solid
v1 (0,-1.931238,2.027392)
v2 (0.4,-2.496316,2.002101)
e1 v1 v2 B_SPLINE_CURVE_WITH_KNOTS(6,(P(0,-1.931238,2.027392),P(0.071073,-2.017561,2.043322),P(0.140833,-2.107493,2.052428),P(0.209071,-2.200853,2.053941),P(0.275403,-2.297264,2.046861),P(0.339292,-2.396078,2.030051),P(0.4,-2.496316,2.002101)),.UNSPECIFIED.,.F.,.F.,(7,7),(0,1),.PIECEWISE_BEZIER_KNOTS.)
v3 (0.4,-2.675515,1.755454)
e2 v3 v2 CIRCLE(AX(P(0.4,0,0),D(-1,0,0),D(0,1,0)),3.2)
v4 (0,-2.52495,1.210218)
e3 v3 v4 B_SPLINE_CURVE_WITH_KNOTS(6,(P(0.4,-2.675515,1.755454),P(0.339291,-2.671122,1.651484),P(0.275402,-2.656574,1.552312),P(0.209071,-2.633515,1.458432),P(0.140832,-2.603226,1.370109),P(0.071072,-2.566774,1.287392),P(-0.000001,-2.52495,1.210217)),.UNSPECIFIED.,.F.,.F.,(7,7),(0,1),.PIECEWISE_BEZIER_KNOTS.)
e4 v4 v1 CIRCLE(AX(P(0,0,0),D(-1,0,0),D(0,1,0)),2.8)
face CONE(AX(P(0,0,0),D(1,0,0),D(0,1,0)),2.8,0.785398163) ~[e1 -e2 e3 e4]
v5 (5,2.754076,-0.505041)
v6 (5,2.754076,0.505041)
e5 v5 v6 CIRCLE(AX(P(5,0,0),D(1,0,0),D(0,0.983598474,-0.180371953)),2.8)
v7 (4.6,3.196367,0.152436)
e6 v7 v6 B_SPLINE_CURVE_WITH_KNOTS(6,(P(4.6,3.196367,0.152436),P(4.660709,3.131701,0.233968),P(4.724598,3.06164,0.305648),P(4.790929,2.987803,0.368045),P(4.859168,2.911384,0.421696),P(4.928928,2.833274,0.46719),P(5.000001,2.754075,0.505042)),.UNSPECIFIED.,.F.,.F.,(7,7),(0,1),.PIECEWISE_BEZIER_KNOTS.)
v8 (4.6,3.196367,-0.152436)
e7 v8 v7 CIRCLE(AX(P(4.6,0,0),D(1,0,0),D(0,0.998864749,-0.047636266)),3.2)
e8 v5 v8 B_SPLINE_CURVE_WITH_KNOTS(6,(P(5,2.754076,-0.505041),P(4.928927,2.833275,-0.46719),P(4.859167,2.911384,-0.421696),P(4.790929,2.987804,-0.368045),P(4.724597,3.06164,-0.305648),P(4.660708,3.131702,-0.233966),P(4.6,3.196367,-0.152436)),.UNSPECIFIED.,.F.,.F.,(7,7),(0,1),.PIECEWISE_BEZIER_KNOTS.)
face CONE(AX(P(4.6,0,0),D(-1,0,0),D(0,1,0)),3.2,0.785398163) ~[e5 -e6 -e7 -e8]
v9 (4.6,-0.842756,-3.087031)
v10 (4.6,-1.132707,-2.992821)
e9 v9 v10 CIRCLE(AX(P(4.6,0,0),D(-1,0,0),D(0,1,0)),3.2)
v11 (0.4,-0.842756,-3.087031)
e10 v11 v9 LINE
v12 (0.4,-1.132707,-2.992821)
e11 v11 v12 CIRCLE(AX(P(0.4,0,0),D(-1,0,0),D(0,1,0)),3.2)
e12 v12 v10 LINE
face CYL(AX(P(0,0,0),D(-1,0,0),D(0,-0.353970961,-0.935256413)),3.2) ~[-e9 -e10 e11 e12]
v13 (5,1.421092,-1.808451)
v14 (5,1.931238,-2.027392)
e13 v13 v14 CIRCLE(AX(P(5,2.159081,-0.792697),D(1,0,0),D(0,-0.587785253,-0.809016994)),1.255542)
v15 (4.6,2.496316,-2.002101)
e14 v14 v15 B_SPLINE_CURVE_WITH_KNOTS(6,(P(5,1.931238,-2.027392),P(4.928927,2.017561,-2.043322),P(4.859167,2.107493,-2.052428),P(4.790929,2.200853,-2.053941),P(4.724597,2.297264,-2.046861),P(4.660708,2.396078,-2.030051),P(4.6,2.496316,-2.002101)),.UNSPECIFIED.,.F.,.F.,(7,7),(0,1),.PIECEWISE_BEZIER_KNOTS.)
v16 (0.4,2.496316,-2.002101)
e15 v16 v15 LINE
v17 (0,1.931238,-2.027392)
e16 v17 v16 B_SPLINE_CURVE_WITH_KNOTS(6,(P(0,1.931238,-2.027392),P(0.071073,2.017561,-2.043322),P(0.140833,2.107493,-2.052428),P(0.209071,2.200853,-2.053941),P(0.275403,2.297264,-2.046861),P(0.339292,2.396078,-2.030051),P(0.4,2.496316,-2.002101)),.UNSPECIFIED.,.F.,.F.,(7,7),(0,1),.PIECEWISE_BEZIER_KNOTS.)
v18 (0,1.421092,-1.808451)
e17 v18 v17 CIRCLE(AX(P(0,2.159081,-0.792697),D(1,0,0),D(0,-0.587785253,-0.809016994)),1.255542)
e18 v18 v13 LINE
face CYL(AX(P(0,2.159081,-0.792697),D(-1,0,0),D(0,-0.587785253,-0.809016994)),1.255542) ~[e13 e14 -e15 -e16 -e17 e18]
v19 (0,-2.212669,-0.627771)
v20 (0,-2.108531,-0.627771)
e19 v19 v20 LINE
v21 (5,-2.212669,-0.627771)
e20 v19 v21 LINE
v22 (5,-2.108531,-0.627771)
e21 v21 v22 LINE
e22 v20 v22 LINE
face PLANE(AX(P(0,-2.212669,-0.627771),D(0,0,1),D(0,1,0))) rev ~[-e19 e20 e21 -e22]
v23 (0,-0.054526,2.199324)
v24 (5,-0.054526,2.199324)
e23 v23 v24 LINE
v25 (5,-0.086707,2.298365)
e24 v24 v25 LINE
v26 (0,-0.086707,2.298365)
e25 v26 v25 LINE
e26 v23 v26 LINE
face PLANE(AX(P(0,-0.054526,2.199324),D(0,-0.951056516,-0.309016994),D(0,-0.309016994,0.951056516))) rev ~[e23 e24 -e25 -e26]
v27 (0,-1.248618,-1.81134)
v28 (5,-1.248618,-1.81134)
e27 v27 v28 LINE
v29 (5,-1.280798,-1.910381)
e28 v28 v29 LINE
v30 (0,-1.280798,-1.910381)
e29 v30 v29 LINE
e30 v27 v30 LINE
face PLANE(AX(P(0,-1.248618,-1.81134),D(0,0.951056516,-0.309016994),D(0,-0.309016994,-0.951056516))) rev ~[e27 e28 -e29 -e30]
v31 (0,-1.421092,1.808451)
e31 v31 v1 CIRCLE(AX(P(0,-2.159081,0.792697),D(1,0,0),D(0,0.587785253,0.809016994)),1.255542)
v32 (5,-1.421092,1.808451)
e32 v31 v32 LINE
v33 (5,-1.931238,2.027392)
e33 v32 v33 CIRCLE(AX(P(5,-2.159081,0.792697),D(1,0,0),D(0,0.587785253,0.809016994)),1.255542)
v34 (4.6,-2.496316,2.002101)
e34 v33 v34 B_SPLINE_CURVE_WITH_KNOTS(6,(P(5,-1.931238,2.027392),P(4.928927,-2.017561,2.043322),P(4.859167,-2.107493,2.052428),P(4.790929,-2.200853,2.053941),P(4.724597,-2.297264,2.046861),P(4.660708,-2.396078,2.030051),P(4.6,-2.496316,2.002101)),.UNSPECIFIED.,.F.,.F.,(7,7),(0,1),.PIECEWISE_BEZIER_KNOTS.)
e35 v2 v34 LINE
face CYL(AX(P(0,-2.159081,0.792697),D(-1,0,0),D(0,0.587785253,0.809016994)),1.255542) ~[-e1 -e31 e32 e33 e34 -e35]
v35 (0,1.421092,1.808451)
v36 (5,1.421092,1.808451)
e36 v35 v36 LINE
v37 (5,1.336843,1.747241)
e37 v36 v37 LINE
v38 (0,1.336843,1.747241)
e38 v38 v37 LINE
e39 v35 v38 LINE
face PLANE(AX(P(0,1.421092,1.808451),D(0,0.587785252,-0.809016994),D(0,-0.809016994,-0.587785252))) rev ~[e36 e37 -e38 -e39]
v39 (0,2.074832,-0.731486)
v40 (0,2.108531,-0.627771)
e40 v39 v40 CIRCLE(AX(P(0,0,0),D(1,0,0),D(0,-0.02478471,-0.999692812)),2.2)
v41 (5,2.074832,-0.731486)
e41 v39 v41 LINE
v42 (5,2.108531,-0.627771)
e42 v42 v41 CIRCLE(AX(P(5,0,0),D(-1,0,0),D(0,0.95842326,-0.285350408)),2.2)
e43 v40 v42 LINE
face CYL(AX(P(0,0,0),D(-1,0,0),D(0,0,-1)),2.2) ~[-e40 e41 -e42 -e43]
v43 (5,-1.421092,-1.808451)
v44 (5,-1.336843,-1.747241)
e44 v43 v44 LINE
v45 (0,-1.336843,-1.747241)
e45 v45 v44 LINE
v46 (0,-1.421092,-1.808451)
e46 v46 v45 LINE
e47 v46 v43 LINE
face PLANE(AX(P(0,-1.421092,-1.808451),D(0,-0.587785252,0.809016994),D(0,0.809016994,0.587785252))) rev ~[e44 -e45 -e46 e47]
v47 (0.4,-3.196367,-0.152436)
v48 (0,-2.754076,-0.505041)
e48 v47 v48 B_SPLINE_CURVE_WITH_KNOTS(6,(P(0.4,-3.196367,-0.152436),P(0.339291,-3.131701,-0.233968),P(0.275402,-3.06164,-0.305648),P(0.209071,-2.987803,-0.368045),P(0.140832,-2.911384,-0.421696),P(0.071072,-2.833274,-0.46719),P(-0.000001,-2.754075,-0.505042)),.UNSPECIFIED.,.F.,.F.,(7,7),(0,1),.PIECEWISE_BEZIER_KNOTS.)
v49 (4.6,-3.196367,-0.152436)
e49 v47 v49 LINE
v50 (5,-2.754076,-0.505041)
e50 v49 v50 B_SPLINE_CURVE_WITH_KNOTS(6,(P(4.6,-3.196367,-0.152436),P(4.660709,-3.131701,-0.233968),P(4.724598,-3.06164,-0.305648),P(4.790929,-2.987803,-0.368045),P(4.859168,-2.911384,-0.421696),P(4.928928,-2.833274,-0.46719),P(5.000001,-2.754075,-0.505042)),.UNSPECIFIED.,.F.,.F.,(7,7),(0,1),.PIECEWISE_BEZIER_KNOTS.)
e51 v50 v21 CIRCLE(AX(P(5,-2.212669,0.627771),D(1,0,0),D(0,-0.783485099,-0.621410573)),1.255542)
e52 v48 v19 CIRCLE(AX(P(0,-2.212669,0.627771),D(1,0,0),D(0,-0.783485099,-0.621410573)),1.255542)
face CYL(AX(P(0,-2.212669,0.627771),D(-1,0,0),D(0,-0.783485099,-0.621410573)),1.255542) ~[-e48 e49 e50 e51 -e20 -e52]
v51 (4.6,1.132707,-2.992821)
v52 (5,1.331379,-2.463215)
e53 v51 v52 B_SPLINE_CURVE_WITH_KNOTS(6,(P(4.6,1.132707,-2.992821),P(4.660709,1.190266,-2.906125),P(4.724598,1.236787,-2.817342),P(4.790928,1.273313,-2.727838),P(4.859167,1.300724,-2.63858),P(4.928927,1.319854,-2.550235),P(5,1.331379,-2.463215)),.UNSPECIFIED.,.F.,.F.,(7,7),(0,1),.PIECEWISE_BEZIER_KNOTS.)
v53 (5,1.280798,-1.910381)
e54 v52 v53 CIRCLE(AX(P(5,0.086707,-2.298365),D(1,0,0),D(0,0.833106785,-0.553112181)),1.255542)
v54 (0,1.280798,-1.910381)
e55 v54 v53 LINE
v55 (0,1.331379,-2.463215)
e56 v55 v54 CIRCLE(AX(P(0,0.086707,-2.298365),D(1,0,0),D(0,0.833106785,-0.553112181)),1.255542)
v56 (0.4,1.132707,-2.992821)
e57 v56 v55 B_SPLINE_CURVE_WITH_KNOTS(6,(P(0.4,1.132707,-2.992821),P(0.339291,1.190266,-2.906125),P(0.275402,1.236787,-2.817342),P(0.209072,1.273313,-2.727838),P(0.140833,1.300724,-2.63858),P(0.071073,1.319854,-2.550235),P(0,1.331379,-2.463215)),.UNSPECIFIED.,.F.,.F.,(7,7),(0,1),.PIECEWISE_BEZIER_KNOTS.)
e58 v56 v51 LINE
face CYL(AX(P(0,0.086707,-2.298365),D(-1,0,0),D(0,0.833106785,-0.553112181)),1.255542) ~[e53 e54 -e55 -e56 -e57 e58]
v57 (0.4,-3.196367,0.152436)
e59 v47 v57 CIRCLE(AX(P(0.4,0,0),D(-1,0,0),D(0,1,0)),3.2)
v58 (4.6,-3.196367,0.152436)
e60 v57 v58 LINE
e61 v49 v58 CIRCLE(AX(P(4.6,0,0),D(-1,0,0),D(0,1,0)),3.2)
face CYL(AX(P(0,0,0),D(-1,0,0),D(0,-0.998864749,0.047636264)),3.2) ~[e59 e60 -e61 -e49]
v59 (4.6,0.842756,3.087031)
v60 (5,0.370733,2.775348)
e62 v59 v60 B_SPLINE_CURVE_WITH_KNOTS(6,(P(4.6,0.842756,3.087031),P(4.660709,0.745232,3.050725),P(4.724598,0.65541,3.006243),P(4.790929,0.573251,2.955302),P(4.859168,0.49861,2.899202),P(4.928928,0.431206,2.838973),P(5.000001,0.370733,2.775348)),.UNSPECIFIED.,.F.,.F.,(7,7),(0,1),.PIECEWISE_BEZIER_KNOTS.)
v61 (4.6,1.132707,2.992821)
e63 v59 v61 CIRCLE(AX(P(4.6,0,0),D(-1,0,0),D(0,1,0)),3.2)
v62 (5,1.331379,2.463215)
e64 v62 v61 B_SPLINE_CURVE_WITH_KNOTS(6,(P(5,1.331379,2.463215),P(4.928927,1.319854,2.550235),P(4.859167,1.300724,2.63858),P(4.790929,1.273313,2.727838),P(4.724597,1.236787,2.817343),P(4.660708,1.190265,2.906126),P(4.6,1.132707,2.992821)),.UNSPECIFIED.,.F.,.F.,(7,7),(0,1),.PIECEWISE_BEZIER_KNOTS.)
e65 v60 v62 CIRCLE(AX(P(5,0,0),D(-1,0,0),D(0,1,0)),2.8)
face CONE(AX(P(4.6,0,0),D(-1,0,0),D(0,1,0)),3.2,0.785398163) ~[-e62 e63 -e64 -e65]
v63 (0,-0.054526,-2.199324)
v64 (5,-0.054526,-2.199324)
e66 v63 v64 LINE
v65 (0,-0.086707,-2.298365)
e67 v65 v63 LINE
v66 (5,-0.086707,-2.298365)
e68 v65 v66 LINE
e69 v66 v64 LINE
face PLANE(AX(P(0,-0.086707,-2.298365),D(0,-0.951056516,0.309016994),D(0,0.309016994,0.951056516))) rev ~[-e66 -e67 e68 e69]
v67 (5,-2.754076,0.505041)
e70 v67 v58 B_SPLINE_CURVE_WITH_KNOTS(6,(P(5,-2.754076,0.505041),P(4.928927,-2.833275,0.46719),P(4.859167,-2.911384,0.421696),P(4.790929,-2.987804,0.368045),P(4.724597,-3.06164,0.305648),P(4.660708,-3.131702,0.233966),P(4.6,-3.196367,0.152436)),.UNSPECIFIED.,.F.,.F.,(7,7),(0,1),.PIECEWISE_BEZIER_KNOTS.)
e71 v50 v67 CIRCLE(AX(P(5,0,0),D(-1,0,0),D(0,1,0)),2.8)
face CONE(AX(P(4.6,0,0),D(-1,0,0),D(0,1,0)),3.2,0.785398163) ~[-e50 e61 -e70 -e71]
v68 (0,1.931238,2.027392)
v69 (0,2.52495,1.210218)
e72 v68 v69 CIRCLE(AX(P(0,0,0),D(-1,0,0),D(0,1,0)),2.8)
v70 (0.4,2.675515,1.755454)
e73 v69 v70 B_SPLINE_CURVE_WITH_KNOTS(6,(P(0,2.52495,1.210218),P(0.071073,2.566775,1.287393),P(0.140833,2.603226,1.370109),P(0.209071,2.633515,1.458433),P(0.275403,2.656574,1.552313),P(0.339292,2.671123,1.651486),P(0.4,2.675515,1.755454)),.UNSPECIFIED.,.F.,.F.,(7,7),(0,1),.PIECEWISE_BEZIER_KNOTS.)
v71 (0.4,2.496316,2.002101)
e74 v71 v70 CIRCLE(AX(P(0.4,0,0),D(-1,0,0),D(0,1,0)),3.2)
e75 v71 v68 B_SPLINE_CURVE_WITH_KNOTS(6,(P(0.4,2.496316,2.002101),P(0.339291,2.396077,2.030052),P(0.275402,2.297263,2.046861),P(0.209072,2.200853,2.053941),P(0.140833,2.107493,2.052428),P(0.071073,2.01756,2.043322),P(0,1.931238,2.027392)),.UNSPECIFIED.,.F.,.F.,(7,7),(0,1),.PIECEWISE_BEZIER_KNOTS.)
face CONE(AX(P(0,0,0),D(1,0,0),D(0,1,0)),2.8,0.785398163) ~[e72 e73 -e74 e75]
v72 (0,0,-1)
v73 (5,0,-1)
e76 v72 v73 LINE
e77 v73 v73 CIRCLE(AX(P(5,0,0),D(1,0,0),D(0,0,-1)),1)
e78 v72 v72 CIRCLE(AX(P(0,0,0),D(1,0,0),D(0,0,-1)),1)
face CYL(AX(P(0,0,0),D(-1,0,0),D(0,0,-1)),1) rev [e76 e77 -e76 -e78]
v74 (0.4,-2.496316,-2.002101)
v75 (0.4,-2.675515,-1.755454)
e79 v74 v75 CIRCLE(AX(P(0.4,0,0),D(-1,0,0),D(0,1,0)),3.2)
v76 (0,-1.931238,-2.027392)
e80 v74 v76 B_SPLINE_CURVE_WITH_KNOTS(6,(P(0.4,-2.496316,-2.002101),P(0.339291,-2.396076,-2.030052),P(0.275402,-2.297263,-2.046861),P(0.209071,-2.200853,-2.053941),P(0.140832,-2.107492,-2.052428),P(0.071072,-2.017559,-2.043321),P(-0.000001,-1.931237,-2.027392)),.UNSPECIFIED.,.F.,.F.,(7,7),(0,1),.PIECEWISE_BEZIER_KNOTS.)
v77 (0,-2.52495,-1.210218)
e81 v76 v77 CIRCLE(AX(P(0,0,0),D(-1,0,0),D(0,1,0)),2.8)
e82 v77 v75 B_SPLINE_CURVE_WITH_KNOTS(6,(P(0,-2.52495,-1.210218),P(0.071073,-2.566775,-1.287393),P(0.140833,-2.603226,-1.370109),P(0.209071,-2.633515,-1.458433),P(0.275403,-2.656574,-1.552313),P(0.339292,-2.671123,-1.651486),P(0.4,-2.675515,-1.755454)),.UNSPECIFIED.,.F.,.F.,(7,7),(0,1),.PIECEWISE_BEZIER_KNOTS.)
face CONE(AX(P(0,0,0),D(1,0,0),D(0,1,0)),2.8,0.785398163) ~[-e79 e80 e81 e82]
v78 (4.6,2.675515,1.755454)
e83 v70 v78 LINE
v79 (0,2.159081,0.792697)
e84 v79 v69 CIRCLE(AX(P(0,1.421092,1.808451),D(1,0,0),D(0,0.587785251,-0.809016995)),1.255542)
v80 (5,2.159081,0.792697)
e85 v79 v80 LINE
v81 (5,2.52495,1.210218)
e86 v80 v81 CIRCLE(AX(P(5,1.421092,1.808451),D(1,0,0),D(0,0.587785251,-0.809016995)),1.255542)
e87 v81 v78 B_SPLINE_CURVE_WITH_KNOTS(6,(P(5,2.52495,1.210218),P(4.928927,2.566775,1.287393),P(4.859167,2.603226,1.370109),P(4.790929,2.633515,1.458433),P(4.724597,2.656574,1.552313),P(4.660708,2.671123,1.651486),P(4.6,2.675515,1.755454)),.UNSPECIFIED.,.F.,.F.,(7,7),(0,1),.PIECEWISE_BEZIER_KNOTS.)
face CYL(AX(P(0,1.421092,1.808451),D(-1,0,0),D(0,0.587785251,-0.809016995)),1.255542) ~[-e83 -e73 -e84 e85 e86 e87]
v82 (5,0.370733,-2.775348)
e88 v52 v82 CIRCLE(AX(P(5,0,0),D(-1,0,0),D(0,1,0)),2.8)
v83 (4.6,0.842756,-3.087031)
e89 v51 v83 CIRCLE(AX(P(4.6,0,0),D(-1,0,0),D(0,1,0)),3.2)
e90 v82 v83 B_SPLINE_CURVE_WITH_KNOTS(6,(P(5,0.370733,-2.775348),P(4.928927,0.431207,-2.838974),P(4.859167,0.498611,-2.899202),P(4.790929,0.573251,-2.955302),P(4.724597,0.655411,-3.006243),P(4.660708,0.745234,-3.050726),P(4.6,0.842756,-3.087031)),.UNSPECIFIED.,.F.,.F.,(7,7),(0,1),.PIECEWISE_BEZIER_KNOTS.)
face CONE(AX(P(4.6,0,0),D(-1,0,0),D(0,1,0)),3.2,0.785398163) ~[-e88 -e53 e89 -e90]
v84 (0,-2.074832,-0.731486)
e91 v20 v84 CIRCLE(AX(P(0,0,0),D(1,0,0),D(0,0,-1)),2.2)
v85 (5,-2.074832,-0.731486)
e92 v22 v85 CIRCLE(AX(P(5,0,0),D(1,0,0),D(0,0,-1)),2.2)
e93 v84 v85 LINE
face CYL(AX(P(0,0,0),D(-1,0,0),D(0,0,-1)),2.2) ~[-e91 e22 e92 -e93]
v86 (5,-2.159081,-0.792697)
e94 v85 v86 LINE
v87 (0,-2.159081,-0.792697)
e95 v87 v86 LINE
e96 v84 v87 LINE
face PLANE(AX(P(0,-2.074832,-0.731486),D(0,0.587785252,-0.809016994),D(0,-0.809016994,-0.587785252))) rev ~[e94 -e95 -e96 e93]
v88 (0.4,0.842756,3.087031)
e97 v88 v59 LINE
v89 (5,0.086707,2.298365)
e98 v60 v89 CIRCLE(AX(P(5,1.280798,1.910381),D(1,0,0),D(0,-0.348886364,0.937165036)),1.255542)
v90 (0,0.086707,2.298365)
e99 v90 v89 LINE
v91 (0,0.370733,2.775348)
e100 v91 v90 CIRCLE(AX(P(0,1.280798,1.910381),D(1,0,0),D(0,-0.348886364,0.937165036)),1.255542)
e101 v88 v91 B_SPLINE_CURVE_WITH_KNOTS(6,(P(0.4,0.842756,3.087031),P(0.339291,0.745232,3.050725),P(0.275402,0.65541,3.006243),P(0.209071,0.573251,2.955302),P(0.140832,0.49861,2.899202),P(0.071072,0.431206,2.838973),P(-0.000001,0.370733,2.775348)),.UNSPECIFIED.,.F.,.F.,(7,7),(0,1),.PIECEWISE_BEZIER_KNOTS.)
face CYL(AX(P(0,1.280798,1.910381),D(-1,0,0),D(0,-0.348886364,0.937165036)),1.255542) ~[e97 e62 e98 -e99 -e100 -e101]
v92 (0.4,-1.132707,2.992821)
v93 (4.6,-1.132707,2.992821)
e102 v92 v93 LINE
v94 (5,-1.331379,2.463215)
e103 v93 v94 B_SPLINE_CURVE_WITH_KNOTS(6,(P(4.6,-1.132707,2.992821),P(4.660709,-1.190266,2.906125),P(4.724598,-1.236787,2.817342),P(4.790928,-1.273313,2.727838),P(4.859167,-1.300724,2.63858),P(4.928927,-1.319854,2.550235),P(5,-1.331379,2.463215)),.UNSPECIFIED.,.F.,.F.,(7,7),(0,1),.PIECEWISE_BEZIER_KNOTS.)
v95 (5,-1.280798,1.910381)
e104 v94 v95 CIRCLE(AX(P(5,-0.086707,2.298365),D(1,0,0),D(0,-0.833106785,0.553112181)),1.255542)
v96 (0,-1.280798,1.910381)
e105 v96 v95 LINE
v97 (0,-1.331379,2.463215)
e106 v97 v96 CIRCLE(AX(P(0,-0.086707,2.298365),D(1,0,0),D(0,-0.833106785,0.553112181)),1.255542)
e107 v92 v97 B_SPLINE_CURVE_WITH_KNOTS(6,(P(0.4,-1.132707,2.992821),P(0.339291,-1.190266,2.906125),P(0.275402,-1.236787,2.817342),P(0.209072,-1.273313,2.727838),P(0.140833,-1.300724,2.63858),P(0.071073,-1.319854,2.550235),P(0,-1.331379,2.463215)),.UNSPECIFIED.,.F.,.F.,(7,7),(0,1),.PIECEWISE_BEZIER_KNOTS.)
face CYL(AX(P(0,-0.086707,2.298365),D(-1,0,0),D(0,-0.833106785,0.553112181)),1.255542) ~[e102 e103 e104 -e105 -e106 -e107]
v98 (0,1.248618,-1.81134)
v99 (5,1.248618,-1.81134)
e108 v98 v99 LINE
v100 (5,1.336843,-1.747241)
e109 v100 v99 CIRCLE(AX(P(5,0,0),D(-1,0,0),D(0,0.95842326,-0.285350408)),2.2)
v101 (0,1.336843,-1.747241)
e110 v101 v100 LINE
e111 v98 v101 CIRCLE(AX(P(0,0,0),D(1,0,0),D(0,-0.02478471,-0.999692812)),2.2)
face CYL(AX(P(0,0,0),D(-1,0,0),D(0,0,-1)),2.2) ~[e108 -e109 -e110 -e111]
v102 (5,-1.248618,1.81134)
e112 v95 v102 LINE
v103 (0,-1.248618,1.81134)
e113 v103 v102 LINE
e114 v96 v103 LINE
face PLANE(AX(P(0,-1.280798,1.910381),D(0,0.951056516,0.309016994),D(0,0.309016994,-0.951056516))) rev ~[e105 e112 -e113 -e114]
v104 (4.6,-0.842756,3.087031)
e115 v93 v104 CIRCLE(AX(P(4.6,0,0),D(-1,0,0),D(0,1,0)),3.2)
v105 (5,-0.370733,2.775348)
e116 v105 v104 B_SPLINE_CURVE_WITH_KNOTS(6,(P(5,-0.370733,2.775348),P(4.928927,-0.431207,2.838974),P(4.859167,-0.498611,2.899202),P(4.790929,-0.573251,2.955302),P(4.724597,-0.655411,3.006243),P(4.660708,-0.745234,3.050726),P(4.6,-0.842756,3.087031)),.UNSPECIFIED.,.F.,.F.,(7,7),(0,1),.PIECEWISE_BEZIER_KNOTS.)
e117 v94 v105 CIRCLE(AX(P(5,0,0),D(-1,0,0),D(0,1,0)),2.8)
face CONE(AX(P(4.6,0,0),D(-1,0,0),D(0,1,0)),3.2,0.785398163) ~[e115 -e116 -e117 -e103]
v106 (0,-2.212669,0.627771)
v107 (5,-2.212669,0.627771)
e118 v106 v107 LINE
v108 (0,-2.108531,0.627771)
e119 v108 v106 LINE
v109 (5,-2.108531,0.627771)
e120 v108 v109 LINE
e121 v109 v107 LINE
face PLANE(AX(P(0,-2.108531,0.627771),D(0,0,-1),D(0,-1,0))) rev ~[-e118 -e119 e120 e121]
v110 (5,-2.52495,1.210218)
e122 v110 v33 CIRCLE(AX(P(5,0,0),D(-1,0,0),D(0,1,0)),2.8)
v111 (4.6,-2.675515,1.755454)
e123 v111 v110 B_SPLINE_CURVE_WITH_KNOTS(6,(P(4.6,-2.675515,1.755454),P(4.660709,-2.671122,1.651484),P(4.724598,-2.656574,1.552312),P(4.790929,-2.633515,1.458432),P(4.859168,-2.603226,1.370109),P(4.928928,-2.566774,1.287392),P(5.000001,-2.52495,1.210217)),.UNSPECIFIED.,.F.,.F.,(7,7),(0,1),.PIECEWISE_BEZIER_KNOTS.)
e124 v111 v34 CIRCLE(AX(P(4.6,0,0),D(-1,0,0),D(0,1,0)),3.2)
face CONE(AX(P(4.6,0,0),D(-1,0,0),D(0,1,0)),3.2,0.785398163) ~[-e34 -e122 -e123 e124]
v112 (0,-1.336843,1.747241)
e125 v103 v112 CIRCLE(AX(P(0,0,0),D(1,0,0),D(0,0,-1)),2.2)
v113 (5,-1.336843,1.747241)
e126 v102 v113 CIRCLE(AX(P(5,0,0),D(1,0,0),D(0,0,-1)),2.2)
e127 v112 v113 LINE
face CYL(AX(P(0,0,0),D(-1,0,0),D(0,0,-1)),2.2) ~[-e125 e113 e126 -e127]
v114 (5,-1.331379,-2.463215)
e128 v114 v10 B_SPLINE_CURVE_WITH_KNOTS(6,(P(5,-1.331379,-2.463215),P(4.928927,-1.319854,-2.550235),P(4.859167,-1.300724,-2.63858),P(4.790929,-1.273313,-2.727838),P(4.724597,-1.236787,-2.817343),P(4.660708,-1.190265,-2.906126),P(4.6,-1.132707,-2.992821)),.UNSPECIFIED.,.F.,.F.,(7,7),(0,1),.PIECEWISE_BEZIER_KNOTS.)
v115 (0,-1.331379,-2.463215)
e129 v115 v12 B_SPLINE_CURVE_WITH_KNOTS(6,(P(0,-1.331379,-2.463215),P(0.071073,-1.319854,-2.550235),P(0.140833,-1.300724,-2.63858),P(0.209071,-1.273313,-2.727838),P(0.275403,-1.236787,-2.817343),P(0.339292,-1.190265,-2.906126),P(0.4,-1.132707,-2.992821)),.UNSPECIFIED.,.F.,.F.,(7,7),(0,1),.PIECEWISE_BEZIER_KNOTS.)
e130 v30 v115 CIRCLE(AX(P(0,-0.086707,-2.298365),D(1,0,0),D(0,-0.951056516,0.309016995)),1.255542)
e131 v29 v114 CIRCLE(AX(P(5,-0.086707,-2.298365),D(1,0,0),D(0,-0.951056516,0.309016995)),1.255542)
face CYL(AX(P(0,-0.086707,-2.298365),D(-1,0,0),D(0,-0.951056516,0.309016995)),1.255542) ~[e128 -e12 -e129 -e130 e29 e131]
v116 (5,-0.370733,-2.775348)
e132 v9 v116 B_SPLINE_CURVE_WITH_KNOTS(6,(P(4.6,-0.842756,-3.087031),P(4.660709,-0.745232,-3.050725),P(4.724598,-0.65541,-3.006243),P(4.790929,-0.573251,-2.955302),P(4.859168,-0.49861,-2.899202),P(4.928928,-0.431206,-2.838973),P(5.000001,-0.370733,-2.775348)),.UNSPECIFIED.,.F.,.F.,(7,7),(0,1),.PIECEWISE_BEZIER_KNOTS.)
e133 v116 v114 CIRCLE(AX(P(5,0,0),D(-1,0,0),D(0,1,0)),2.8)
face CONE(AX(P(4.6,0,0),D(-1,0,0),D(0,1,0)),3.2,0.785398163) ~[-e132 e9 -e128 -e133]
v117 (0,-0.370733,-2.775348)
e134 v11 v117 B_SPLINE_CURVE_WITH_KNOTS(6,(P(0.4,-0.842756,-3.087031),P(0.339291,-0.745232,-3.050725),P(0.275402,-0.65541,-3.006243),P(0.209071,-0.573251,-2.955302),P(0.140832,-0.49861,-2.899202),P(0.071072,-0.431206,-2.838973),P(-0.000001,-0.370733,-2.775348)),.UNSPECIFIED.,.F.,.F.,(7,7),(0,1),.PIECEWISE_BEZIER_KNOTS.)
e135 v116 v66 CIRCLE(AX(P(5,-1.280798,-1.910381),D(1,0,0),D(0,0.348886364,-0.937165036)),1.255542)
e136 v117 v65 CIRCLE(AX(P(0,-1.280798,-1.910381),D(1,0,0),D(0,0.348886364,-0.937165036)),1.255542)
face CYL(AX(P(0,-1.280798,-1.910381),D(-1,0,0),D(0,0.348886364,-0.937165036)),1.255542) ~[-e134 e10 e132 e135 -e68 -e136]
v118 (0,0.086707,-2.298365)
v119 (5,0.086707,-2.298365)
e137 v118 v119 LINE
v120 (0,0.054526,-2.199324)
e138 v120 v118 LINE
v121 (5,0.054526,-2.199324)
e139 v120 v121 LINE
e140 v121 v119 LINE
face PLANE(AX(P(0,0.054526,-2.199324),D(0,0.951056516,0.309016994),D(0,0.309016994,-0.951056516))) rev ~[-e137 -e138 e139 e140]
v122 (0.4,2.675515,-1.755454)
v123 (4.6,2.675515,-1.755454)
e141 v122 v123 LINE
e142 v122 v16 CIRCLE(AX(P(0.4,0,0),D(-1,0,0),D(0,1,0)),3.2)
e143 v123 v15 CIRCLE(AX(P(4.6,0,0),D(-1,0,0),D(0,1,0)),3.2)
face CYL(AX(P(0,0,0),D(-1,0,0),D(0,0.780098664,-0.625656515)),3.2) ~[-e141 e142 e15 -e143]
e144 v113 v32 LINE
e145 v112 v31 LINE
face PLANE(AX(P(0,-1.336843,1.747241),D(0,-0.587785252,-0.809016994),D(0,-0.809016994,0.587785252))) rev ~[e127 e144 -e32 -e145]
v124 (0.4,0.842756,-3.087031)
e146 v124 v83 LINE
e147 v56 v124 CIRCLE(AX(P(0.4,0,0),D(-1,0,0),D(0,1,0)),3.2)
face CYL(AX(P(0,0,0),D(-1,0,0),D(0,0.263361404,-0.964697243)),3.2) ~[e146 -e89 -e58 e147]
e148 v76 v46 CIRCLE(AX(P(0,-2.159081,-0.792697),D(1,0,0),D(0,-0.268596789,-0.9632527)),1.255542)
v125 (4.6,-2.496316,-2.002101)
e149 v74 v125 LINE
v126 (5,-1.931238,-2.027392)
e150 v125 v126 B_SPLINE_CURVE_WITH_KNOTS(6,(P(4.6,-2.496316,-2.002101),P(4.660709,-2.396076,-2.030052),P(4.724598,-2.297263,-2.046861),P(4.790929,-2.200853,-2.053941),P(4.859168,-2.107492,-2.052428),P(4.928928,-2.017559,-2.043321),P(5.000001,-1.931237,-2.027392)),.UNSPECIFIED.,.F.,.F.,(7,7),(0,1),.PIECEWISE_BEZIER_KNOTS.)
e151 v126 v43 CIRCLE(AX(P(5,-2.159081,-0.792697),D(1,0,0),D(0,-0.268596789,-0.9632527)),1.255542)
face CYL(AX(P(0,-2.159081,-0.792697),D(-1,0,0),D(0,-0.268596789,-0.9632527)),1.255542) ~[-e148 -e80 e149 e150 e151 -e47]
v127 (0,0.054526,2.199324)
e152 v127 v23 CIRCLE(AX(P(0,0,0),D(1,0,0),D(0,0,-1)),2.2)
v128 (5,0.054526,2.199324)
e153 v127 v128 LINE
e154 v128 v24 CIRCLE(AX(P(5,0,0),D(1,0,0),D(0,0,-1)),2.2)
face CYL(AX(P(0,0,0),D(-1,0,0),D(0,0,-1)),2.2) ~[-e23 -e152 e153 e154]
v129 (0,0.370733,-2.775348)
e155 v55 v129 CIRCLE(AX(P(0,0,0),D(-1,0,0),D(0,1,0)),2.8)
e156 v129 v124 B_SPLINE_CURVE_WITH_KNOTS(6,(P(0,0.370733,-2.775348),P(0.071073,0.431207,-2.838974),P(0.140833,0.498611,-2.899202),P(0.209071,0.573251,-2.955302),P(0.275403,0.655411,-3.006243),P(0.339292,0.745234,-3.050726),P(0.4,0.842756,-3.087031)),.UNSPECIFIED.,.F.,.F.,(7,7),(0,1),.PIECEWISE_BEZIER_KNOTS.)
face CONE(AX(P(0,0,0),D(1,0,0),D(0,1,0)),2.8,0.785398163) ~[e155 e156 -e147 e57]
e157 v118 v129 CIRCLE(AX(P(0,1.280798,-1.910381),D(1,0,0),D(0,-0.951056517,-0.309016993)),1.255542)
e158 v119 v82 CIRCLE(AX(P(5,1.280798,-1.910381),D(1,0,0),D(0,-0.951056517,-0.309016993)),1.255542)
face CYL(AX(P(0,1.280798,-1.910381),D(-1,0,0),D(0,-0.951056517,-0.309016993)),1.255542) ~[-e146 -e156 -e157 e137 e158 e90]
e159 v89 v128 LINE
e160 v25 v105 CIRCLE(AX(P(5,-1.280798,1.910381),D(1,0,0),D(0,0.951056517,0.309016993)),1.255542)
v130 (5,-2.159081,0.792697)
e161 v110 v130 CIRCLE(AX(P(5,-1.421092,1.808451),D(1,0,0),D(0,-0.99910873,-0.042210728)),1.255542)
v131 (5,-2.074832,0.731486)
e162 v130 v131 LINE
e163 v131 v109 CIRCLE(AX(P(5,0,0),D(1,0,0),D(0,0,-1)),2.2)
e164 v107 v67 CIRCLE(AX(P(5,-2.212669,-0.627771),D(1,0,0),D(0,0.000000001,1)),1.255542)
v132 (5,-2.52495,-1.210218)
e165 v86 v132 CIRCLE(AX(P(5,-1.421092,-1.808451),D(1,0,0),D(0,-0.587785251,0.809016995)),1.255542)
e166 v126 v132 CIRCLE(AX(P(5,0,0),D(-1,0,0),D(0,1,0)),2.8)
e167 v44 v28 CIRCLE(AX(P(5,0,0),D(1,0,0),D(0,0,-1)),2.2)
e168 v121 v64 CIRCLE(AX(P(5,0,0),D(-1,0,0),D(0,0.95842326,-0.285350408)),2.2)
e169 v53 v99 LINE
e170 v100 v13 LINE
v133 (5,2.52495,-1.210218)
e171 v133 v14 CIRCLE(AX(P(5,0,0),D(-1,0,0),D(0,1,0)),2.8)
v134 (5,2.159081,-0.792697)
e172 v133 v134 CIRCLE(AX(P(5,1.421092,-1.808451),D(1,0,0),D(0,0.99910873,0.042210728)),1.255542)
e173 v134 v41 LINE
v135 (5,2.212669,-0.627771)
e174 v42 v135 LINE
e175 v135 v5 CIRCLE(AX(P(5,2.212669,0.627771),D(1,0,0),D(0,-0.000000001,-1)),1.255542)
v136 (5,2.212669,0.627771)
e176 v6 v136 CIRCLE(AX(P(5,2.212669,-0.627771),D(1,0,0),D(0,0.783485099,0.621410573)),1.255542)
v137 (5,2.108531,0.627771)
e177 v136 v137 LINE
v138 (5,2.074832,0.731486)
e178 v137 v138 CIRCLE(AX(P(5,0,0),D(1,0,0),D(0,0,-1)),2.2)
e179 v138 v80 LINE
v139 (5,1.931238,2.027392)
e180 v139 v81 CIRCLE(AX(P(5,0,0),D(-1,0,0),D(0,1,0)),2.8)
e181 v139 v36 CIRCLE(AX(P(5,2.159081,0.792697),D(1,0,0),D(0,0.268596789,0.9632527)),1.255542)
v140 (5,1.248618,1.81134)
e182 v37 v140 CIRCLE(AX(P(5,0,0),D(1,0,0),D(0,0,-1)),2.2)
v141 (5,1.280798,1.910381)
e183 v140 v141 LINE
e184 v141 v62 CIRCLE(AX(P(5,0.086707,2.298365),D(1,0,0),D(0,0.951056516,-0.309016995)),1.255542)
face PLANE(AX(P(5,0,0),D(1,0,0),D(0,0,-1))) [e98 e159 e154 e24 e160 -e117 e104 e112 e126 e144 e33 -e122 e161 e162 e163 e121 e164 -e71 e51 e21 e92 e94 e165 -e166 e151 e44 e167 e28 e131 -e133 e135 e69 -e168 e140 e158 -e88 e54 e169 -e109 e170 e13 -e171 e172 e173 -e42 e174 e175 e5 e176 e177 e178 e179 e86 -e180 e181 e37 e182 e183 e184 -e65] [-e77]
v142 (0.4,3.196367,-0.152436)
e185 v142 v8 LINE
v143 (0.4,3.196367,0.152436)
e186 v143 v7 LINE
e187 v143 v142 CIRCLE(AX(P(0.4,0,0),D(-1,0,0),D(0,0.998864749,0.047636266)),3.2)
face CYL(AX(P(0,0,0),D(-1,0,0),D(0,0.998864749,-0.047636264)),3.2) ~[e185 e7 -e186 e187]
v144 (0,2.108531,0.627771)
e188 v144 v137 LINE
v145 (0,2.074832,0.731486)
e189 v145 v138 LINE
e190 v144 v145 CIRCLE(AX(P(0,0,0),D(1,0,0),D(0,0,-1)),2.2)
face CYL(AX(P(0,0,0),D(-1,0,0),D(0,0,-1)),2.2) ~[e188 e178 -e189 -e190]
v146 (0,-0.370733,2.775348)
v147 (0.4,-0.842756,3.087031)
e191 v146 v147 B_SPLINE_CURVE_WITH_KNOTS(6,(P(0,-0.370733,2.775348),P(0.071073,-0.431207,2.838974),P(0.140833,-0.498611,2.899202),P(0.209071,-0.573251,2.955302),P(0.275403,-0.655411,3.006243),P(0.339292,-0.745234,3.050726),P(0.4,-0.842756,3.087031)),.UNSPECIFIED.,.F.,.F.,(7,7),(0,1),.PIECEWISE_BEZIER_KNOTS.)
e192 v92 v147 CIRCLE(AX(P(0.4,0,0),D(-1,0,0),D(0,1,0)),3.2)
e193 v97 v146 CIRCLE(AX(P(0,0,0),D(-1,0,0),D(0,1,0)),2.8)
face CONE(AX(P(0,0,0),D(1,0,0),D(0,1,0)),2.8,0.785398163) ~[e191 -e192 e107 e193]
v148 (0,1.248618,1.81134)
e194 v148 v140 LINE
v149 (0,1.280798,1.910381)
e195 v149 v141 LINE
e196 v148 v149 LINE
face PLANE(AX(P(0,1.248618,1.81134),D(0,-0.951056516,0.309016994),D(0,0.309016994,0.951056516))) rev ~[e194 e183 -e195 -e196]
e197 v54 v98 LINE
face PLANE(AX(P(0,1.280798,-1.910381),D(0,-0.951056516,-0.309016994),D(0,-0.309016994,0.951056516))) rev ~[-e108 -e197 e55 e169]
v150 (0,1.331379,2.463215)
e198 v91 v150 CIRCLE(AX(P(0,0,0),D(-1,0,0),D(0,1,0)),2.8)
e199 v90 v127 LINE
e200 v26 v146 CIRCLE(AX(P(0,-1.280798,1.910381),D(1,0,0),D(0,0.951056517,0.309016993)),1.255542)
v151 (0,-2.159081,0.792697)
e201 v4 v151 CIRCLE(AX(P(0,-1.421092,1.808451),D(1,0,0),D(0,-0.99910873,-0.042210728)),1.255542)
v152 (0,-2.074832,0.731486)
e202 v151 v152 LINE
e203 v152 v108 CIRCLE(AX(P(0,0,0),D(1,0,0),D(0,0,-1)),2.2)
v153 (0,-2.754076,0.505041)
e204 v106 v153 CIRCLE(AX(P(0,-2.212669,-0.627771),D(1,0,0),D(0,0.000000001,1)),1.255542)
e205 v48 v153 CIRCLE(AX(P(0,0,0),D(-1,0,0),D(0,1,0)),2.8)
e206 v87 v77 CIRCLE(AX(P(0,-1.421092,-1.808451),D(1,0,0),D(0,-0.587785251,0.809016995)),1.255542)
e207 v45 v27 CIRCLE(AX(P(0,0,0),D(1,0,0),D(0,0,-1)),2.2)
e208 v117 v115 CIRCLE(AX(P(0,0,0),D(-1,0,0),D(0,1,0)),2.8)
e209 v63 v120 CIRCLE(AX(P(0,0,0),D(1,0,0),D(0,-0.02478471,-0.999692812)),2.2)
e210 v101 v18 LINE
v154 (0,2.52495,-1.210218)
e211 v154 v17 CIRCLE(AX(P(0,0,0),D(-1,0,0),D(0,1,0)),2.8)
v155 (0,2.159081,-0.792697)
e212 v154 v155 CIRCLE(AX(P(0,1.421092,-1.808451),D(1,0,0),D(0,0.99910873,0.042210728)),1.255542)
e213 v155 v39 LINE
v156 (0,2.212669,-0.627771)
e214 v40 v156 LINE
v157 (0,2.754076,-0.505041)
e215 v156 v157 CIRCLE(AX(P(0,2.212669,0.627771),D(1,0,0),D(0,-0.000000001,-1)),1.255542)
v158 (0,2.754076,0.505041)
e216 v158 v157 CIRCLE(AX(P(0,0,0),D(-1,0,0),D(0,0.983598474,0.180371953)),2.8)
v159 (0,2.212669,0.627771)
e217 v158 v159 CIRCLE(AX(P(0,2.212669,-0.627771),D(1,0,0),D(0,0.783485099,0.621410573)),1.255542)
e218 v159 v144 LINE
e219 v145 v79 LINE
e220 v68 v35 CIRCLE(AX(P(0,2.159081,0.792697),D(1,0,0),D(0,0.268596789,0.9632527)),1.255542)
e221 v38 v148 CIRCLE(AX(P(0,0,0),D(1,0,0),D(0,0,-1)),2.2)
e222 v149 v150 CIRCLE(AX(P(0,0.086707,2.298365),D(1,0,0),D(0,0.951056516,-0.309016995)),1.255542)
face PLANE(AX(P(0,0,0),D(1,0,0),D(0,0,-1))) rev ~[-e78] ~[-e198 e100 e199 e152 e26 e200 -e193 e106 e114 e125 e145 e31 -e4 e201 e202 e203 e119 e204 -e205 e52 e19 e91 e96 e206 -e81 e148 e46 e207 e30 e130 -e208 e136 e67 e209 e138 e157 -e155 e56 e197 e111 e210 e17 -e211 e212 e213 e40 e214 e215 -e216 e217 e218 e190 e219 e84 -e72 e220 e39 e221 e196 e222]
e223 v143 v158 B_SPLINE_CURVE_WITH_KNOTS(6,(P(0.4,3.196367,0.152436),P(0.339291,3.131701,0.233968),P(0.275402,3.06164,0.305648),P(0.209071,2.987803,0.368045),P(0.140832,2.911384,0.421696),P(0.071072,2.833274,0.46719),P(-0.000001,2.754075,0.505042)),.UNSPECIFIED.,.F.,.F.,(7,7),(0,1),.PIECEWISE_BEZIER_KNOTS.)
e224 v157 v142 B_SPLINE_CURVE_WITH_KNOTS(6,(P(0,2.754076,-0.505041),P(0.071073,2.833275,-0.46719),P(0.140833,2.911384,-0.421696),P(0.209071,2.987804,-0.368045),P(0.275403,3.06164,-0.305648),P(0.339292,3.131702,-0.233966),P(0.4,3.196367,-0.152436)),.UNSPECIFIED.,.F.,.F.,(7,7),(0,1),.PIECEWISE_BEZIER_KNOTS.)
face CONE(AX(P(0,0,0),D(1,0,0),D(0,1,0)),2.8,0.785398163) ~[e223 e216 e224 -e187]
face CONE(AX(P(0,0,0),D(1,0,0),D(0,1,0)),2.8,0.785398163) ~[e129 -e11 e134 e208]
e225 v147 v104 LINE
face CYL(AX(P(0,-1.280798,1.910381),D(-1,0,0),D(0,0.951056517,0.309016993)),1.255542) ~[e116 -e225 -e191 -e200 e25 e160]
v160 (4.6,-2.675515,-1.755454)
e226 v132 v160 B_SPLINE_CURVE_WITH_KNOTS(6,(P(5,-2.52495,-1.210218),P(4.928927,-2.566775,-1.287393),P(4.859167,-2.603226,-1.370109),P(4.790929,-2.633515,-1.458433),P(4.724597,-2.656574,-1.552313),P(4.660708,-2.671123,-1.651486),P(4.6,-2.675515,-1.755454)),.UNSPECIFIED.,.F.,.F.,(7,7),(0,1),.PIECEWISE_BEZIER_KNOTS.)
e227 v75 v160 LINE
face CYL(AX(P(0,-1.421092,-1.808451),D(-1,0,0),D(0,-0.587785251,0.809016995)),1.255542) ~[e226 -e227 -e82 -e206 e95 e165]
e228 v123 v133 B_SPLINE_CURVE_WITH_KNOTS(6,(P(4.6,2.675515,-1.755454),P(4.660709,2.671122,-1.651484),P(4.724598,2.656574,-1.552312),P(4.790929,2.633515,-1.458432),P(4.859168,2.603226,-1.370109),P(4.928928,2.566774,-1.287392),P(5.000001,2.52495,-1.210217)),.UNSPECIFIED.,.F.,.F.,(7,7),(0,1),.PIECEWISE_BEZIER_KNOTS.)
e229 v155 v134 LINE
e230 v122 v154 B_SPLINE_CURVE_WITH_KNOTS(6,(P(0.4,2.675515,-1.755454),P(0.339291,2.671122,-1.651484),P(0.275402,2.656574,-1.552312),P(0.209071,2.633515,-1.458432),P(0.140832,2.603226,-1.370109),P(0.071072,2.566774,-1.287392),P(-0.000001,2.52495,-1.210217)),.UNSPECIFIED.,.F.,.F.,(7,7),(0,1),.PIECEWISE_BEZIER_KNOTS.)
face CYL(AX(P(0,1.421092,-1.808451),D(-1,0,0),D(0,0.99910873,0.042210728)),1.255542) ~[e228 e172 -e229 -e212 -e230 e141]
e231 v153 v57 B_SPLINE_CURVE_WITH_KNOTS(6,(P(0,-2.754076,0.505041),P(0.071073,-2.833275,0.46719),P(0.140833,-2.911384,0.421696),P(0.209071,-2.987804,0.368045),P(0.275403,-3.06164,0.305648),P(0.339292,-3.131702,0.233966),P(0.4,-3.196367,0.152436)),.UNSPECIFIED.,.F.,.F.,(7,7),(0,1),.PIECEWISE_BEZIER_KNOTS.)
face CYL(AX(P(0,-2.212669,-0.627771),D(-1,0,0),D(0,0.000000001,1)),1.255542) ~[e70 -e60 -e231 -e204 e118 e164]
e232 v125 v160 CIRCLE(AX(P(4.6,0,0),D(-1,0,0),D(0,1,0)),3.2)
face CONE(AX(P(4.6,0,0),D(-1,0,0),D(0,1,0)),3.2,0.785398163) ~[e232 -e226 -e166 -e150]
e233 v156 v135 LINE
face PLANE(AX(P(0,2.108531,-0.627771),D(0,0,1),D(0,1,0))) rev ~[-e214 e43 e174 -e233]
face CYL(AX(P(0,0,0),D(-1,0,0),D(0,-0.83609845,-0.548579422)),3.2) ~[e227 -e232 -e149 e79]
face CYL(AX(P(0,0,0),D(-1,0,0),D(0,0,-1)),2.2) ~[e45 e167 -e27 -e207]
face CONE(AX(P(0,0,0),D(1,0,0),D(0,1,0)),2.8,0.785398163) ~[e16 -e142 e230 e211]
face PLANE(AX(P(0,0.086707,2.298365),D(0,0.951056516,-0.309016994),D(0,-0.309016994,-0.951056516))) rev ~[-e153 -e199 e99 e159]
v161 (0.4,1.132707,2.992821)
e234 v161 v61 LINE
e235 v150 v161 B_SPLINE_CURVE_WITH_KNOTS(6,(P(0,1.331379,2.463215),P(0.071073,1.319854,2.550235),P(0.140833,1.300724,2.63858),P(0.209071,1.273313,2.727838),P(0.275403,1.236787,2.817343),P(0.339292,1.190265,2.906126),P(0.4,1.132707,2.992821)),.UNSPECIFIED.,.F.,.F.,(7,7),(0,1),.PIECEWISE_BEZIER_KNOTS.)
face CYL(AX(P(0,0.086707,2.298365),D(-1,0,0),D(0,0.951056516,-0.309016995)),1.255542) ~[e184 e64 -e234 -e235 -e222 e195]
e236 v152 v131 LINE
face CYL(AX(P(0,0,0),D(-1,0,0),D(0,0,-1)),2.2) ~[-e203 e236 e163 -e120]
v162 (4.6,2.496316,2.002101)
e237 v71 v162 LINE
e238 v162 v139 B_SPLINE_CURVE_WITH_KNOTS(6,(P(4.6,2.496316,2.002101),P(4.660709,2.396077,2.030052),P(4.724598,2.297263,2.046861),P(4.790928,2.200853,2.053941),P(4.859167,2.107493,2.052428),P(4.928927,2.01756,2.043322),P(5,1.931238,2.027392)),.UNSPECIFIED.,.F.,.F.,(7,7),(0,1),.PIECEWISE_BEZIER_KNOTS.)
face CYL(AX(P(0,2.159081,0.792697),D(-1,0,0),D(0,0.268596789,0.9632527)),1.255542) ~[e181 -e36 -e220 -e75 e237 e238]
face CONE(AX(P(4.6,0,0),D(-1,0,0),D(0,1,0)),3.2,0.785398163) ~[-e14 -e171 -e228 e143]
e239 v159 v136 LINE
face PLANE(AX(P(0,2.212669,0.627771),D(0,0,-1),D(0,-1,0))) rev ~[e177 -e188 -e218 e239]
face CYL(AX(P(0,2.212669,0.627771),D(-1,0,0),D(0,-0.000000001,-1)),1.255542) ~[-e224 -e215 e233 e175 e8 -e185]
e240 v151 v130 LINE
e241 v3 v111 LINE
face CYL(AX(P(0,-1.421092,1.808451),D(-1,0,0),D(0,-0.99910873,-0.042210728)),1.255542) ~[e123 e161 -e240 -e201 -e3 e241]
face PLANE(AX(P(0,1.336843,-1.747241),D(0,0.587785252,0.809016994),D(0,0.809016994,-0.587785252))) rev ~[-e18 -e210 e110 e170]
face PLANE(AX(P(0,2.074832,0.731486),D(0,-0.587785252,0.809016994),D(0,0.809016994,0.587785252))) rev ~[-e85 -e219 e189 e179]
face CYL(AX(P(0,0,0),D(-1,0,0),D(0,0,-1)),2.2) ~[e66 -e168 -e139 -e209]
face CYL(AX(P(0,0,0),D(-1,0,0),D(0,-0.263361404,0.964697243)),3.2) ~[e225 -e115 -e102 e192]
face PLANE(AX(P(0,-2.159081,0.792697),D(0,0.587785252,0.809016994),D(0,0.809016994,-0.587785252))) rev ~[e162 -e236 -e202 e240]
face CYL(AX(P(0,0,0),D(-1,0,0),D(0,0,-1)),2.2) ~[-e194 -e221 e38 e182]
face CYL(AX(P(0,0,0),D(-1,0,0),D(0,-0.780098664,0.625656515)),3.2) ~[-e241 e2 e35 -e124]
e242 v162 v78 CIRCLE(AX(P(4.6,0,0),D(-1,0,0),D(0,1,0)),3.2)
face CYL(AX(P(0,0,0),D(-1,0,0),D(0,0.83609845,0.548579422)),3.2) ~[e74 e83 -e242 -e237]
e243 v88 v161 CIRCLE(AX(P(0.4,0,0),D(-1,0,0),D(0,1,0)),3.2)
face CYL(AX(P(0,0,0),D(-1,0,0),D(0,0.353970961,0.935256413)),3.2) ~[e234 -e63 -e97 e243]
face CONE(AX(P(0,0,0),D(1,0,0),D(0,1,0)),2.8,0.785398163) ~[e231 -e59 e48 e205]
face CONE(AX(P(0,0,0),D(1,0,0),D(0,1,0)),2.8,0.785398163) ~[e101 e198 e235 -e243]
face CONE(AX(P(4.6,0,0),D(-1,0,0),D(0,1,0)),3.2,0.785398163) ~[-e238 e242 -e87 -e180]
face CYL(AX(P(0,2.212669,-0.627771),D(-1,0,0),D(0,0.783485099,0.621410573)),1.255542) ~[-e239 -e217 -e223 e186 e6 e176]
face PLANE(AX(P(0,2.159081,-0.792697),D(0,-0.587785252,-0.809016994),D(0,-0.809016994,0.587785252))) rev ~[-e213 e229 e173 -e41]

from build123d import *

# Parameters (mm, degrees)
SKETCH2_R           = 2.2
SKETCH2_R_2         = 1
BOSS_EXTRUDE2_DEPTH = 5
BOSS_EXTRUDE3_DEPTH = 5
CIRPATTERN1_COUNT   = 10


with BuildPart() as part:
    # Sketch2 → Boss-Extrude2 (new body)
    with BuildSketch(Plane(origin=(0, 0, 0), x_dir=(0, 0, -1), z_dir=(1, 0, 0))):
        Circle(SKETCH2_R)
        Circle(SKETCH2_R_2, mode=Mode.SUBTRACT)
    extrude(amount=BOSS_EXTRUDE2_DEPTH)


with BuildPart() as body_2:
    # Sketch3 → Boss-Extrude3 (new body)
    with BuildSketch(Plane(origin=(0, 0, 0), x_dir=(0, 0, -1), z_dir=(1, 0, 0))):
        with BuildLine():
            ThreePointArc((-0.627770898, 2.108531171), (0, 2.2), (0.627770898, 2.108531171))
            Line((0.627770898, 2.108531171), (0.627770898, 2.212668909))
            ThreePointArc((0.627770898, 2.212668909), (0.502708566, 2.758930187), (0.15243605, 3.196367196))
            ThreePointArc((0.15243605, 3.196367196), (0, 3.2), (-0.15243605, 3.196367196))
            ThreePointArc((-0.15243605, 3.196367196), (-0.502708566, 2.758930187), (-0.627770898, 2.212668909))
            Line((-0.627770898, 2.212668909), (-0.627770898, 2.108531171))
        make_face()
    extrude(amount=BOSS_EXTRUDE3_DEPTH)


with BuildPart() as cirpattern1_1:
    # CirPattern1: pattern copy
    add(body_2.part.rotate(Axis((0, 0, 0), (1, 0, 0)), 1 * 360 / CIRPATTERN1_COUNT))


with BuildPart() as cirpattern1_2:
    # CirPattern1: pattern copy
    add(body_2.part.rotate(Axis((0, 0, 0), (1, 0, 0)), 2 * 360 / CIRPATTERN1_COUNT))


with BuildPart() as cirpattern1_3:
    # CirPattern1: pattern copy
    add(body_2.part.rotate(Axis((0, 0, 0), (1, 0, 0)), 3 * 360 / CIRPATTERN1_COUNT))


with BuildPart() as cirpattern1_4:
    # CirPattern1: pattern copy
    add(body_2.part.rotate(Axis((0, 0, 0), (1, 0, 0)), 4 * 360 / CIRPATTERN1_COUNT))


with BuildPart() as cirpattern1_5:
    # CirPattern1: pattern copy
    add(body_2.part.rotate(Axis((0, 0, 0), (1, 0, 0)), 5 * 360 / CIRPATTERN1_COUNT))


with BuildPart() as cirpattern1_6:
    # CirPattern1: pattern copy
    add(body_2.part.rotate(Axis((0, 0, 0), (1, 0, 0)), 6 * 360 / CIRPATTERN1_COUNT))


with BuildPart() as cirpattern1_7:
    # CirPattern1: pattern copy
    add(body_2.part.rotate(Axis((0, 0, 0), (1, 0, 0)), 7 * 360 / CIRPATTERN1_COUNT))


with BuildPart() as cirpattern1_8:
    # CirPattern1: pattern copy
    add(body_2.part.rotate(Axis((0, 0, 0), (1, 0, 0)), 8 * 360 / CIRPATTERN1_COUNT))


with BuildPart() as cirpattern1_9:
    # CirPattern1: pattern copy
    add(body_2.part.rotate(Axis((0, 0, 0), (1, 0, 0)), 9 * 360 / CIRPATTERN1_COUNT))


with BuildPart() as body_2_1:
    add(body_2.part)

    # Combine1: union CirPattern1_7, CirPattern1_6, CirPattern1_4, CirPattern1_3, part, CirPattern1_1, CirPattern1_2, CirPattern1_5, CirPattern1_8, CirPattern1_9
    add(cirpattern1_7.part)
    add(cirpattern1_6.part)
    add(cirpattern1_4.part)
    add(cirpattern1_3.part)
    add(part.part)
    add(cirpattern1_1.part)
    add(cirpattern1_2.part)
    add(cirpattern1_5.part)
    add(cirpattern1_8.part)
    add(cirpattern1_9.part)

    # Sketch4 → Cut-Revolve1 (revolve, cut)
    with BuildSketch(Plane.XY):
        Polygon((0, 0), (0, 2.8), (0.4, 3.2), (4.6, 3.2), (5, 2.8), (5, 0), (6, 0), (6, 4.2), (-1, 4.2), (-1, 0), align=None)
    revolve(axis=Axis((6, 0, 0), (-1, 0, 0)), mode=Mode.SUBTRACT)


solid = body_2_1.part
